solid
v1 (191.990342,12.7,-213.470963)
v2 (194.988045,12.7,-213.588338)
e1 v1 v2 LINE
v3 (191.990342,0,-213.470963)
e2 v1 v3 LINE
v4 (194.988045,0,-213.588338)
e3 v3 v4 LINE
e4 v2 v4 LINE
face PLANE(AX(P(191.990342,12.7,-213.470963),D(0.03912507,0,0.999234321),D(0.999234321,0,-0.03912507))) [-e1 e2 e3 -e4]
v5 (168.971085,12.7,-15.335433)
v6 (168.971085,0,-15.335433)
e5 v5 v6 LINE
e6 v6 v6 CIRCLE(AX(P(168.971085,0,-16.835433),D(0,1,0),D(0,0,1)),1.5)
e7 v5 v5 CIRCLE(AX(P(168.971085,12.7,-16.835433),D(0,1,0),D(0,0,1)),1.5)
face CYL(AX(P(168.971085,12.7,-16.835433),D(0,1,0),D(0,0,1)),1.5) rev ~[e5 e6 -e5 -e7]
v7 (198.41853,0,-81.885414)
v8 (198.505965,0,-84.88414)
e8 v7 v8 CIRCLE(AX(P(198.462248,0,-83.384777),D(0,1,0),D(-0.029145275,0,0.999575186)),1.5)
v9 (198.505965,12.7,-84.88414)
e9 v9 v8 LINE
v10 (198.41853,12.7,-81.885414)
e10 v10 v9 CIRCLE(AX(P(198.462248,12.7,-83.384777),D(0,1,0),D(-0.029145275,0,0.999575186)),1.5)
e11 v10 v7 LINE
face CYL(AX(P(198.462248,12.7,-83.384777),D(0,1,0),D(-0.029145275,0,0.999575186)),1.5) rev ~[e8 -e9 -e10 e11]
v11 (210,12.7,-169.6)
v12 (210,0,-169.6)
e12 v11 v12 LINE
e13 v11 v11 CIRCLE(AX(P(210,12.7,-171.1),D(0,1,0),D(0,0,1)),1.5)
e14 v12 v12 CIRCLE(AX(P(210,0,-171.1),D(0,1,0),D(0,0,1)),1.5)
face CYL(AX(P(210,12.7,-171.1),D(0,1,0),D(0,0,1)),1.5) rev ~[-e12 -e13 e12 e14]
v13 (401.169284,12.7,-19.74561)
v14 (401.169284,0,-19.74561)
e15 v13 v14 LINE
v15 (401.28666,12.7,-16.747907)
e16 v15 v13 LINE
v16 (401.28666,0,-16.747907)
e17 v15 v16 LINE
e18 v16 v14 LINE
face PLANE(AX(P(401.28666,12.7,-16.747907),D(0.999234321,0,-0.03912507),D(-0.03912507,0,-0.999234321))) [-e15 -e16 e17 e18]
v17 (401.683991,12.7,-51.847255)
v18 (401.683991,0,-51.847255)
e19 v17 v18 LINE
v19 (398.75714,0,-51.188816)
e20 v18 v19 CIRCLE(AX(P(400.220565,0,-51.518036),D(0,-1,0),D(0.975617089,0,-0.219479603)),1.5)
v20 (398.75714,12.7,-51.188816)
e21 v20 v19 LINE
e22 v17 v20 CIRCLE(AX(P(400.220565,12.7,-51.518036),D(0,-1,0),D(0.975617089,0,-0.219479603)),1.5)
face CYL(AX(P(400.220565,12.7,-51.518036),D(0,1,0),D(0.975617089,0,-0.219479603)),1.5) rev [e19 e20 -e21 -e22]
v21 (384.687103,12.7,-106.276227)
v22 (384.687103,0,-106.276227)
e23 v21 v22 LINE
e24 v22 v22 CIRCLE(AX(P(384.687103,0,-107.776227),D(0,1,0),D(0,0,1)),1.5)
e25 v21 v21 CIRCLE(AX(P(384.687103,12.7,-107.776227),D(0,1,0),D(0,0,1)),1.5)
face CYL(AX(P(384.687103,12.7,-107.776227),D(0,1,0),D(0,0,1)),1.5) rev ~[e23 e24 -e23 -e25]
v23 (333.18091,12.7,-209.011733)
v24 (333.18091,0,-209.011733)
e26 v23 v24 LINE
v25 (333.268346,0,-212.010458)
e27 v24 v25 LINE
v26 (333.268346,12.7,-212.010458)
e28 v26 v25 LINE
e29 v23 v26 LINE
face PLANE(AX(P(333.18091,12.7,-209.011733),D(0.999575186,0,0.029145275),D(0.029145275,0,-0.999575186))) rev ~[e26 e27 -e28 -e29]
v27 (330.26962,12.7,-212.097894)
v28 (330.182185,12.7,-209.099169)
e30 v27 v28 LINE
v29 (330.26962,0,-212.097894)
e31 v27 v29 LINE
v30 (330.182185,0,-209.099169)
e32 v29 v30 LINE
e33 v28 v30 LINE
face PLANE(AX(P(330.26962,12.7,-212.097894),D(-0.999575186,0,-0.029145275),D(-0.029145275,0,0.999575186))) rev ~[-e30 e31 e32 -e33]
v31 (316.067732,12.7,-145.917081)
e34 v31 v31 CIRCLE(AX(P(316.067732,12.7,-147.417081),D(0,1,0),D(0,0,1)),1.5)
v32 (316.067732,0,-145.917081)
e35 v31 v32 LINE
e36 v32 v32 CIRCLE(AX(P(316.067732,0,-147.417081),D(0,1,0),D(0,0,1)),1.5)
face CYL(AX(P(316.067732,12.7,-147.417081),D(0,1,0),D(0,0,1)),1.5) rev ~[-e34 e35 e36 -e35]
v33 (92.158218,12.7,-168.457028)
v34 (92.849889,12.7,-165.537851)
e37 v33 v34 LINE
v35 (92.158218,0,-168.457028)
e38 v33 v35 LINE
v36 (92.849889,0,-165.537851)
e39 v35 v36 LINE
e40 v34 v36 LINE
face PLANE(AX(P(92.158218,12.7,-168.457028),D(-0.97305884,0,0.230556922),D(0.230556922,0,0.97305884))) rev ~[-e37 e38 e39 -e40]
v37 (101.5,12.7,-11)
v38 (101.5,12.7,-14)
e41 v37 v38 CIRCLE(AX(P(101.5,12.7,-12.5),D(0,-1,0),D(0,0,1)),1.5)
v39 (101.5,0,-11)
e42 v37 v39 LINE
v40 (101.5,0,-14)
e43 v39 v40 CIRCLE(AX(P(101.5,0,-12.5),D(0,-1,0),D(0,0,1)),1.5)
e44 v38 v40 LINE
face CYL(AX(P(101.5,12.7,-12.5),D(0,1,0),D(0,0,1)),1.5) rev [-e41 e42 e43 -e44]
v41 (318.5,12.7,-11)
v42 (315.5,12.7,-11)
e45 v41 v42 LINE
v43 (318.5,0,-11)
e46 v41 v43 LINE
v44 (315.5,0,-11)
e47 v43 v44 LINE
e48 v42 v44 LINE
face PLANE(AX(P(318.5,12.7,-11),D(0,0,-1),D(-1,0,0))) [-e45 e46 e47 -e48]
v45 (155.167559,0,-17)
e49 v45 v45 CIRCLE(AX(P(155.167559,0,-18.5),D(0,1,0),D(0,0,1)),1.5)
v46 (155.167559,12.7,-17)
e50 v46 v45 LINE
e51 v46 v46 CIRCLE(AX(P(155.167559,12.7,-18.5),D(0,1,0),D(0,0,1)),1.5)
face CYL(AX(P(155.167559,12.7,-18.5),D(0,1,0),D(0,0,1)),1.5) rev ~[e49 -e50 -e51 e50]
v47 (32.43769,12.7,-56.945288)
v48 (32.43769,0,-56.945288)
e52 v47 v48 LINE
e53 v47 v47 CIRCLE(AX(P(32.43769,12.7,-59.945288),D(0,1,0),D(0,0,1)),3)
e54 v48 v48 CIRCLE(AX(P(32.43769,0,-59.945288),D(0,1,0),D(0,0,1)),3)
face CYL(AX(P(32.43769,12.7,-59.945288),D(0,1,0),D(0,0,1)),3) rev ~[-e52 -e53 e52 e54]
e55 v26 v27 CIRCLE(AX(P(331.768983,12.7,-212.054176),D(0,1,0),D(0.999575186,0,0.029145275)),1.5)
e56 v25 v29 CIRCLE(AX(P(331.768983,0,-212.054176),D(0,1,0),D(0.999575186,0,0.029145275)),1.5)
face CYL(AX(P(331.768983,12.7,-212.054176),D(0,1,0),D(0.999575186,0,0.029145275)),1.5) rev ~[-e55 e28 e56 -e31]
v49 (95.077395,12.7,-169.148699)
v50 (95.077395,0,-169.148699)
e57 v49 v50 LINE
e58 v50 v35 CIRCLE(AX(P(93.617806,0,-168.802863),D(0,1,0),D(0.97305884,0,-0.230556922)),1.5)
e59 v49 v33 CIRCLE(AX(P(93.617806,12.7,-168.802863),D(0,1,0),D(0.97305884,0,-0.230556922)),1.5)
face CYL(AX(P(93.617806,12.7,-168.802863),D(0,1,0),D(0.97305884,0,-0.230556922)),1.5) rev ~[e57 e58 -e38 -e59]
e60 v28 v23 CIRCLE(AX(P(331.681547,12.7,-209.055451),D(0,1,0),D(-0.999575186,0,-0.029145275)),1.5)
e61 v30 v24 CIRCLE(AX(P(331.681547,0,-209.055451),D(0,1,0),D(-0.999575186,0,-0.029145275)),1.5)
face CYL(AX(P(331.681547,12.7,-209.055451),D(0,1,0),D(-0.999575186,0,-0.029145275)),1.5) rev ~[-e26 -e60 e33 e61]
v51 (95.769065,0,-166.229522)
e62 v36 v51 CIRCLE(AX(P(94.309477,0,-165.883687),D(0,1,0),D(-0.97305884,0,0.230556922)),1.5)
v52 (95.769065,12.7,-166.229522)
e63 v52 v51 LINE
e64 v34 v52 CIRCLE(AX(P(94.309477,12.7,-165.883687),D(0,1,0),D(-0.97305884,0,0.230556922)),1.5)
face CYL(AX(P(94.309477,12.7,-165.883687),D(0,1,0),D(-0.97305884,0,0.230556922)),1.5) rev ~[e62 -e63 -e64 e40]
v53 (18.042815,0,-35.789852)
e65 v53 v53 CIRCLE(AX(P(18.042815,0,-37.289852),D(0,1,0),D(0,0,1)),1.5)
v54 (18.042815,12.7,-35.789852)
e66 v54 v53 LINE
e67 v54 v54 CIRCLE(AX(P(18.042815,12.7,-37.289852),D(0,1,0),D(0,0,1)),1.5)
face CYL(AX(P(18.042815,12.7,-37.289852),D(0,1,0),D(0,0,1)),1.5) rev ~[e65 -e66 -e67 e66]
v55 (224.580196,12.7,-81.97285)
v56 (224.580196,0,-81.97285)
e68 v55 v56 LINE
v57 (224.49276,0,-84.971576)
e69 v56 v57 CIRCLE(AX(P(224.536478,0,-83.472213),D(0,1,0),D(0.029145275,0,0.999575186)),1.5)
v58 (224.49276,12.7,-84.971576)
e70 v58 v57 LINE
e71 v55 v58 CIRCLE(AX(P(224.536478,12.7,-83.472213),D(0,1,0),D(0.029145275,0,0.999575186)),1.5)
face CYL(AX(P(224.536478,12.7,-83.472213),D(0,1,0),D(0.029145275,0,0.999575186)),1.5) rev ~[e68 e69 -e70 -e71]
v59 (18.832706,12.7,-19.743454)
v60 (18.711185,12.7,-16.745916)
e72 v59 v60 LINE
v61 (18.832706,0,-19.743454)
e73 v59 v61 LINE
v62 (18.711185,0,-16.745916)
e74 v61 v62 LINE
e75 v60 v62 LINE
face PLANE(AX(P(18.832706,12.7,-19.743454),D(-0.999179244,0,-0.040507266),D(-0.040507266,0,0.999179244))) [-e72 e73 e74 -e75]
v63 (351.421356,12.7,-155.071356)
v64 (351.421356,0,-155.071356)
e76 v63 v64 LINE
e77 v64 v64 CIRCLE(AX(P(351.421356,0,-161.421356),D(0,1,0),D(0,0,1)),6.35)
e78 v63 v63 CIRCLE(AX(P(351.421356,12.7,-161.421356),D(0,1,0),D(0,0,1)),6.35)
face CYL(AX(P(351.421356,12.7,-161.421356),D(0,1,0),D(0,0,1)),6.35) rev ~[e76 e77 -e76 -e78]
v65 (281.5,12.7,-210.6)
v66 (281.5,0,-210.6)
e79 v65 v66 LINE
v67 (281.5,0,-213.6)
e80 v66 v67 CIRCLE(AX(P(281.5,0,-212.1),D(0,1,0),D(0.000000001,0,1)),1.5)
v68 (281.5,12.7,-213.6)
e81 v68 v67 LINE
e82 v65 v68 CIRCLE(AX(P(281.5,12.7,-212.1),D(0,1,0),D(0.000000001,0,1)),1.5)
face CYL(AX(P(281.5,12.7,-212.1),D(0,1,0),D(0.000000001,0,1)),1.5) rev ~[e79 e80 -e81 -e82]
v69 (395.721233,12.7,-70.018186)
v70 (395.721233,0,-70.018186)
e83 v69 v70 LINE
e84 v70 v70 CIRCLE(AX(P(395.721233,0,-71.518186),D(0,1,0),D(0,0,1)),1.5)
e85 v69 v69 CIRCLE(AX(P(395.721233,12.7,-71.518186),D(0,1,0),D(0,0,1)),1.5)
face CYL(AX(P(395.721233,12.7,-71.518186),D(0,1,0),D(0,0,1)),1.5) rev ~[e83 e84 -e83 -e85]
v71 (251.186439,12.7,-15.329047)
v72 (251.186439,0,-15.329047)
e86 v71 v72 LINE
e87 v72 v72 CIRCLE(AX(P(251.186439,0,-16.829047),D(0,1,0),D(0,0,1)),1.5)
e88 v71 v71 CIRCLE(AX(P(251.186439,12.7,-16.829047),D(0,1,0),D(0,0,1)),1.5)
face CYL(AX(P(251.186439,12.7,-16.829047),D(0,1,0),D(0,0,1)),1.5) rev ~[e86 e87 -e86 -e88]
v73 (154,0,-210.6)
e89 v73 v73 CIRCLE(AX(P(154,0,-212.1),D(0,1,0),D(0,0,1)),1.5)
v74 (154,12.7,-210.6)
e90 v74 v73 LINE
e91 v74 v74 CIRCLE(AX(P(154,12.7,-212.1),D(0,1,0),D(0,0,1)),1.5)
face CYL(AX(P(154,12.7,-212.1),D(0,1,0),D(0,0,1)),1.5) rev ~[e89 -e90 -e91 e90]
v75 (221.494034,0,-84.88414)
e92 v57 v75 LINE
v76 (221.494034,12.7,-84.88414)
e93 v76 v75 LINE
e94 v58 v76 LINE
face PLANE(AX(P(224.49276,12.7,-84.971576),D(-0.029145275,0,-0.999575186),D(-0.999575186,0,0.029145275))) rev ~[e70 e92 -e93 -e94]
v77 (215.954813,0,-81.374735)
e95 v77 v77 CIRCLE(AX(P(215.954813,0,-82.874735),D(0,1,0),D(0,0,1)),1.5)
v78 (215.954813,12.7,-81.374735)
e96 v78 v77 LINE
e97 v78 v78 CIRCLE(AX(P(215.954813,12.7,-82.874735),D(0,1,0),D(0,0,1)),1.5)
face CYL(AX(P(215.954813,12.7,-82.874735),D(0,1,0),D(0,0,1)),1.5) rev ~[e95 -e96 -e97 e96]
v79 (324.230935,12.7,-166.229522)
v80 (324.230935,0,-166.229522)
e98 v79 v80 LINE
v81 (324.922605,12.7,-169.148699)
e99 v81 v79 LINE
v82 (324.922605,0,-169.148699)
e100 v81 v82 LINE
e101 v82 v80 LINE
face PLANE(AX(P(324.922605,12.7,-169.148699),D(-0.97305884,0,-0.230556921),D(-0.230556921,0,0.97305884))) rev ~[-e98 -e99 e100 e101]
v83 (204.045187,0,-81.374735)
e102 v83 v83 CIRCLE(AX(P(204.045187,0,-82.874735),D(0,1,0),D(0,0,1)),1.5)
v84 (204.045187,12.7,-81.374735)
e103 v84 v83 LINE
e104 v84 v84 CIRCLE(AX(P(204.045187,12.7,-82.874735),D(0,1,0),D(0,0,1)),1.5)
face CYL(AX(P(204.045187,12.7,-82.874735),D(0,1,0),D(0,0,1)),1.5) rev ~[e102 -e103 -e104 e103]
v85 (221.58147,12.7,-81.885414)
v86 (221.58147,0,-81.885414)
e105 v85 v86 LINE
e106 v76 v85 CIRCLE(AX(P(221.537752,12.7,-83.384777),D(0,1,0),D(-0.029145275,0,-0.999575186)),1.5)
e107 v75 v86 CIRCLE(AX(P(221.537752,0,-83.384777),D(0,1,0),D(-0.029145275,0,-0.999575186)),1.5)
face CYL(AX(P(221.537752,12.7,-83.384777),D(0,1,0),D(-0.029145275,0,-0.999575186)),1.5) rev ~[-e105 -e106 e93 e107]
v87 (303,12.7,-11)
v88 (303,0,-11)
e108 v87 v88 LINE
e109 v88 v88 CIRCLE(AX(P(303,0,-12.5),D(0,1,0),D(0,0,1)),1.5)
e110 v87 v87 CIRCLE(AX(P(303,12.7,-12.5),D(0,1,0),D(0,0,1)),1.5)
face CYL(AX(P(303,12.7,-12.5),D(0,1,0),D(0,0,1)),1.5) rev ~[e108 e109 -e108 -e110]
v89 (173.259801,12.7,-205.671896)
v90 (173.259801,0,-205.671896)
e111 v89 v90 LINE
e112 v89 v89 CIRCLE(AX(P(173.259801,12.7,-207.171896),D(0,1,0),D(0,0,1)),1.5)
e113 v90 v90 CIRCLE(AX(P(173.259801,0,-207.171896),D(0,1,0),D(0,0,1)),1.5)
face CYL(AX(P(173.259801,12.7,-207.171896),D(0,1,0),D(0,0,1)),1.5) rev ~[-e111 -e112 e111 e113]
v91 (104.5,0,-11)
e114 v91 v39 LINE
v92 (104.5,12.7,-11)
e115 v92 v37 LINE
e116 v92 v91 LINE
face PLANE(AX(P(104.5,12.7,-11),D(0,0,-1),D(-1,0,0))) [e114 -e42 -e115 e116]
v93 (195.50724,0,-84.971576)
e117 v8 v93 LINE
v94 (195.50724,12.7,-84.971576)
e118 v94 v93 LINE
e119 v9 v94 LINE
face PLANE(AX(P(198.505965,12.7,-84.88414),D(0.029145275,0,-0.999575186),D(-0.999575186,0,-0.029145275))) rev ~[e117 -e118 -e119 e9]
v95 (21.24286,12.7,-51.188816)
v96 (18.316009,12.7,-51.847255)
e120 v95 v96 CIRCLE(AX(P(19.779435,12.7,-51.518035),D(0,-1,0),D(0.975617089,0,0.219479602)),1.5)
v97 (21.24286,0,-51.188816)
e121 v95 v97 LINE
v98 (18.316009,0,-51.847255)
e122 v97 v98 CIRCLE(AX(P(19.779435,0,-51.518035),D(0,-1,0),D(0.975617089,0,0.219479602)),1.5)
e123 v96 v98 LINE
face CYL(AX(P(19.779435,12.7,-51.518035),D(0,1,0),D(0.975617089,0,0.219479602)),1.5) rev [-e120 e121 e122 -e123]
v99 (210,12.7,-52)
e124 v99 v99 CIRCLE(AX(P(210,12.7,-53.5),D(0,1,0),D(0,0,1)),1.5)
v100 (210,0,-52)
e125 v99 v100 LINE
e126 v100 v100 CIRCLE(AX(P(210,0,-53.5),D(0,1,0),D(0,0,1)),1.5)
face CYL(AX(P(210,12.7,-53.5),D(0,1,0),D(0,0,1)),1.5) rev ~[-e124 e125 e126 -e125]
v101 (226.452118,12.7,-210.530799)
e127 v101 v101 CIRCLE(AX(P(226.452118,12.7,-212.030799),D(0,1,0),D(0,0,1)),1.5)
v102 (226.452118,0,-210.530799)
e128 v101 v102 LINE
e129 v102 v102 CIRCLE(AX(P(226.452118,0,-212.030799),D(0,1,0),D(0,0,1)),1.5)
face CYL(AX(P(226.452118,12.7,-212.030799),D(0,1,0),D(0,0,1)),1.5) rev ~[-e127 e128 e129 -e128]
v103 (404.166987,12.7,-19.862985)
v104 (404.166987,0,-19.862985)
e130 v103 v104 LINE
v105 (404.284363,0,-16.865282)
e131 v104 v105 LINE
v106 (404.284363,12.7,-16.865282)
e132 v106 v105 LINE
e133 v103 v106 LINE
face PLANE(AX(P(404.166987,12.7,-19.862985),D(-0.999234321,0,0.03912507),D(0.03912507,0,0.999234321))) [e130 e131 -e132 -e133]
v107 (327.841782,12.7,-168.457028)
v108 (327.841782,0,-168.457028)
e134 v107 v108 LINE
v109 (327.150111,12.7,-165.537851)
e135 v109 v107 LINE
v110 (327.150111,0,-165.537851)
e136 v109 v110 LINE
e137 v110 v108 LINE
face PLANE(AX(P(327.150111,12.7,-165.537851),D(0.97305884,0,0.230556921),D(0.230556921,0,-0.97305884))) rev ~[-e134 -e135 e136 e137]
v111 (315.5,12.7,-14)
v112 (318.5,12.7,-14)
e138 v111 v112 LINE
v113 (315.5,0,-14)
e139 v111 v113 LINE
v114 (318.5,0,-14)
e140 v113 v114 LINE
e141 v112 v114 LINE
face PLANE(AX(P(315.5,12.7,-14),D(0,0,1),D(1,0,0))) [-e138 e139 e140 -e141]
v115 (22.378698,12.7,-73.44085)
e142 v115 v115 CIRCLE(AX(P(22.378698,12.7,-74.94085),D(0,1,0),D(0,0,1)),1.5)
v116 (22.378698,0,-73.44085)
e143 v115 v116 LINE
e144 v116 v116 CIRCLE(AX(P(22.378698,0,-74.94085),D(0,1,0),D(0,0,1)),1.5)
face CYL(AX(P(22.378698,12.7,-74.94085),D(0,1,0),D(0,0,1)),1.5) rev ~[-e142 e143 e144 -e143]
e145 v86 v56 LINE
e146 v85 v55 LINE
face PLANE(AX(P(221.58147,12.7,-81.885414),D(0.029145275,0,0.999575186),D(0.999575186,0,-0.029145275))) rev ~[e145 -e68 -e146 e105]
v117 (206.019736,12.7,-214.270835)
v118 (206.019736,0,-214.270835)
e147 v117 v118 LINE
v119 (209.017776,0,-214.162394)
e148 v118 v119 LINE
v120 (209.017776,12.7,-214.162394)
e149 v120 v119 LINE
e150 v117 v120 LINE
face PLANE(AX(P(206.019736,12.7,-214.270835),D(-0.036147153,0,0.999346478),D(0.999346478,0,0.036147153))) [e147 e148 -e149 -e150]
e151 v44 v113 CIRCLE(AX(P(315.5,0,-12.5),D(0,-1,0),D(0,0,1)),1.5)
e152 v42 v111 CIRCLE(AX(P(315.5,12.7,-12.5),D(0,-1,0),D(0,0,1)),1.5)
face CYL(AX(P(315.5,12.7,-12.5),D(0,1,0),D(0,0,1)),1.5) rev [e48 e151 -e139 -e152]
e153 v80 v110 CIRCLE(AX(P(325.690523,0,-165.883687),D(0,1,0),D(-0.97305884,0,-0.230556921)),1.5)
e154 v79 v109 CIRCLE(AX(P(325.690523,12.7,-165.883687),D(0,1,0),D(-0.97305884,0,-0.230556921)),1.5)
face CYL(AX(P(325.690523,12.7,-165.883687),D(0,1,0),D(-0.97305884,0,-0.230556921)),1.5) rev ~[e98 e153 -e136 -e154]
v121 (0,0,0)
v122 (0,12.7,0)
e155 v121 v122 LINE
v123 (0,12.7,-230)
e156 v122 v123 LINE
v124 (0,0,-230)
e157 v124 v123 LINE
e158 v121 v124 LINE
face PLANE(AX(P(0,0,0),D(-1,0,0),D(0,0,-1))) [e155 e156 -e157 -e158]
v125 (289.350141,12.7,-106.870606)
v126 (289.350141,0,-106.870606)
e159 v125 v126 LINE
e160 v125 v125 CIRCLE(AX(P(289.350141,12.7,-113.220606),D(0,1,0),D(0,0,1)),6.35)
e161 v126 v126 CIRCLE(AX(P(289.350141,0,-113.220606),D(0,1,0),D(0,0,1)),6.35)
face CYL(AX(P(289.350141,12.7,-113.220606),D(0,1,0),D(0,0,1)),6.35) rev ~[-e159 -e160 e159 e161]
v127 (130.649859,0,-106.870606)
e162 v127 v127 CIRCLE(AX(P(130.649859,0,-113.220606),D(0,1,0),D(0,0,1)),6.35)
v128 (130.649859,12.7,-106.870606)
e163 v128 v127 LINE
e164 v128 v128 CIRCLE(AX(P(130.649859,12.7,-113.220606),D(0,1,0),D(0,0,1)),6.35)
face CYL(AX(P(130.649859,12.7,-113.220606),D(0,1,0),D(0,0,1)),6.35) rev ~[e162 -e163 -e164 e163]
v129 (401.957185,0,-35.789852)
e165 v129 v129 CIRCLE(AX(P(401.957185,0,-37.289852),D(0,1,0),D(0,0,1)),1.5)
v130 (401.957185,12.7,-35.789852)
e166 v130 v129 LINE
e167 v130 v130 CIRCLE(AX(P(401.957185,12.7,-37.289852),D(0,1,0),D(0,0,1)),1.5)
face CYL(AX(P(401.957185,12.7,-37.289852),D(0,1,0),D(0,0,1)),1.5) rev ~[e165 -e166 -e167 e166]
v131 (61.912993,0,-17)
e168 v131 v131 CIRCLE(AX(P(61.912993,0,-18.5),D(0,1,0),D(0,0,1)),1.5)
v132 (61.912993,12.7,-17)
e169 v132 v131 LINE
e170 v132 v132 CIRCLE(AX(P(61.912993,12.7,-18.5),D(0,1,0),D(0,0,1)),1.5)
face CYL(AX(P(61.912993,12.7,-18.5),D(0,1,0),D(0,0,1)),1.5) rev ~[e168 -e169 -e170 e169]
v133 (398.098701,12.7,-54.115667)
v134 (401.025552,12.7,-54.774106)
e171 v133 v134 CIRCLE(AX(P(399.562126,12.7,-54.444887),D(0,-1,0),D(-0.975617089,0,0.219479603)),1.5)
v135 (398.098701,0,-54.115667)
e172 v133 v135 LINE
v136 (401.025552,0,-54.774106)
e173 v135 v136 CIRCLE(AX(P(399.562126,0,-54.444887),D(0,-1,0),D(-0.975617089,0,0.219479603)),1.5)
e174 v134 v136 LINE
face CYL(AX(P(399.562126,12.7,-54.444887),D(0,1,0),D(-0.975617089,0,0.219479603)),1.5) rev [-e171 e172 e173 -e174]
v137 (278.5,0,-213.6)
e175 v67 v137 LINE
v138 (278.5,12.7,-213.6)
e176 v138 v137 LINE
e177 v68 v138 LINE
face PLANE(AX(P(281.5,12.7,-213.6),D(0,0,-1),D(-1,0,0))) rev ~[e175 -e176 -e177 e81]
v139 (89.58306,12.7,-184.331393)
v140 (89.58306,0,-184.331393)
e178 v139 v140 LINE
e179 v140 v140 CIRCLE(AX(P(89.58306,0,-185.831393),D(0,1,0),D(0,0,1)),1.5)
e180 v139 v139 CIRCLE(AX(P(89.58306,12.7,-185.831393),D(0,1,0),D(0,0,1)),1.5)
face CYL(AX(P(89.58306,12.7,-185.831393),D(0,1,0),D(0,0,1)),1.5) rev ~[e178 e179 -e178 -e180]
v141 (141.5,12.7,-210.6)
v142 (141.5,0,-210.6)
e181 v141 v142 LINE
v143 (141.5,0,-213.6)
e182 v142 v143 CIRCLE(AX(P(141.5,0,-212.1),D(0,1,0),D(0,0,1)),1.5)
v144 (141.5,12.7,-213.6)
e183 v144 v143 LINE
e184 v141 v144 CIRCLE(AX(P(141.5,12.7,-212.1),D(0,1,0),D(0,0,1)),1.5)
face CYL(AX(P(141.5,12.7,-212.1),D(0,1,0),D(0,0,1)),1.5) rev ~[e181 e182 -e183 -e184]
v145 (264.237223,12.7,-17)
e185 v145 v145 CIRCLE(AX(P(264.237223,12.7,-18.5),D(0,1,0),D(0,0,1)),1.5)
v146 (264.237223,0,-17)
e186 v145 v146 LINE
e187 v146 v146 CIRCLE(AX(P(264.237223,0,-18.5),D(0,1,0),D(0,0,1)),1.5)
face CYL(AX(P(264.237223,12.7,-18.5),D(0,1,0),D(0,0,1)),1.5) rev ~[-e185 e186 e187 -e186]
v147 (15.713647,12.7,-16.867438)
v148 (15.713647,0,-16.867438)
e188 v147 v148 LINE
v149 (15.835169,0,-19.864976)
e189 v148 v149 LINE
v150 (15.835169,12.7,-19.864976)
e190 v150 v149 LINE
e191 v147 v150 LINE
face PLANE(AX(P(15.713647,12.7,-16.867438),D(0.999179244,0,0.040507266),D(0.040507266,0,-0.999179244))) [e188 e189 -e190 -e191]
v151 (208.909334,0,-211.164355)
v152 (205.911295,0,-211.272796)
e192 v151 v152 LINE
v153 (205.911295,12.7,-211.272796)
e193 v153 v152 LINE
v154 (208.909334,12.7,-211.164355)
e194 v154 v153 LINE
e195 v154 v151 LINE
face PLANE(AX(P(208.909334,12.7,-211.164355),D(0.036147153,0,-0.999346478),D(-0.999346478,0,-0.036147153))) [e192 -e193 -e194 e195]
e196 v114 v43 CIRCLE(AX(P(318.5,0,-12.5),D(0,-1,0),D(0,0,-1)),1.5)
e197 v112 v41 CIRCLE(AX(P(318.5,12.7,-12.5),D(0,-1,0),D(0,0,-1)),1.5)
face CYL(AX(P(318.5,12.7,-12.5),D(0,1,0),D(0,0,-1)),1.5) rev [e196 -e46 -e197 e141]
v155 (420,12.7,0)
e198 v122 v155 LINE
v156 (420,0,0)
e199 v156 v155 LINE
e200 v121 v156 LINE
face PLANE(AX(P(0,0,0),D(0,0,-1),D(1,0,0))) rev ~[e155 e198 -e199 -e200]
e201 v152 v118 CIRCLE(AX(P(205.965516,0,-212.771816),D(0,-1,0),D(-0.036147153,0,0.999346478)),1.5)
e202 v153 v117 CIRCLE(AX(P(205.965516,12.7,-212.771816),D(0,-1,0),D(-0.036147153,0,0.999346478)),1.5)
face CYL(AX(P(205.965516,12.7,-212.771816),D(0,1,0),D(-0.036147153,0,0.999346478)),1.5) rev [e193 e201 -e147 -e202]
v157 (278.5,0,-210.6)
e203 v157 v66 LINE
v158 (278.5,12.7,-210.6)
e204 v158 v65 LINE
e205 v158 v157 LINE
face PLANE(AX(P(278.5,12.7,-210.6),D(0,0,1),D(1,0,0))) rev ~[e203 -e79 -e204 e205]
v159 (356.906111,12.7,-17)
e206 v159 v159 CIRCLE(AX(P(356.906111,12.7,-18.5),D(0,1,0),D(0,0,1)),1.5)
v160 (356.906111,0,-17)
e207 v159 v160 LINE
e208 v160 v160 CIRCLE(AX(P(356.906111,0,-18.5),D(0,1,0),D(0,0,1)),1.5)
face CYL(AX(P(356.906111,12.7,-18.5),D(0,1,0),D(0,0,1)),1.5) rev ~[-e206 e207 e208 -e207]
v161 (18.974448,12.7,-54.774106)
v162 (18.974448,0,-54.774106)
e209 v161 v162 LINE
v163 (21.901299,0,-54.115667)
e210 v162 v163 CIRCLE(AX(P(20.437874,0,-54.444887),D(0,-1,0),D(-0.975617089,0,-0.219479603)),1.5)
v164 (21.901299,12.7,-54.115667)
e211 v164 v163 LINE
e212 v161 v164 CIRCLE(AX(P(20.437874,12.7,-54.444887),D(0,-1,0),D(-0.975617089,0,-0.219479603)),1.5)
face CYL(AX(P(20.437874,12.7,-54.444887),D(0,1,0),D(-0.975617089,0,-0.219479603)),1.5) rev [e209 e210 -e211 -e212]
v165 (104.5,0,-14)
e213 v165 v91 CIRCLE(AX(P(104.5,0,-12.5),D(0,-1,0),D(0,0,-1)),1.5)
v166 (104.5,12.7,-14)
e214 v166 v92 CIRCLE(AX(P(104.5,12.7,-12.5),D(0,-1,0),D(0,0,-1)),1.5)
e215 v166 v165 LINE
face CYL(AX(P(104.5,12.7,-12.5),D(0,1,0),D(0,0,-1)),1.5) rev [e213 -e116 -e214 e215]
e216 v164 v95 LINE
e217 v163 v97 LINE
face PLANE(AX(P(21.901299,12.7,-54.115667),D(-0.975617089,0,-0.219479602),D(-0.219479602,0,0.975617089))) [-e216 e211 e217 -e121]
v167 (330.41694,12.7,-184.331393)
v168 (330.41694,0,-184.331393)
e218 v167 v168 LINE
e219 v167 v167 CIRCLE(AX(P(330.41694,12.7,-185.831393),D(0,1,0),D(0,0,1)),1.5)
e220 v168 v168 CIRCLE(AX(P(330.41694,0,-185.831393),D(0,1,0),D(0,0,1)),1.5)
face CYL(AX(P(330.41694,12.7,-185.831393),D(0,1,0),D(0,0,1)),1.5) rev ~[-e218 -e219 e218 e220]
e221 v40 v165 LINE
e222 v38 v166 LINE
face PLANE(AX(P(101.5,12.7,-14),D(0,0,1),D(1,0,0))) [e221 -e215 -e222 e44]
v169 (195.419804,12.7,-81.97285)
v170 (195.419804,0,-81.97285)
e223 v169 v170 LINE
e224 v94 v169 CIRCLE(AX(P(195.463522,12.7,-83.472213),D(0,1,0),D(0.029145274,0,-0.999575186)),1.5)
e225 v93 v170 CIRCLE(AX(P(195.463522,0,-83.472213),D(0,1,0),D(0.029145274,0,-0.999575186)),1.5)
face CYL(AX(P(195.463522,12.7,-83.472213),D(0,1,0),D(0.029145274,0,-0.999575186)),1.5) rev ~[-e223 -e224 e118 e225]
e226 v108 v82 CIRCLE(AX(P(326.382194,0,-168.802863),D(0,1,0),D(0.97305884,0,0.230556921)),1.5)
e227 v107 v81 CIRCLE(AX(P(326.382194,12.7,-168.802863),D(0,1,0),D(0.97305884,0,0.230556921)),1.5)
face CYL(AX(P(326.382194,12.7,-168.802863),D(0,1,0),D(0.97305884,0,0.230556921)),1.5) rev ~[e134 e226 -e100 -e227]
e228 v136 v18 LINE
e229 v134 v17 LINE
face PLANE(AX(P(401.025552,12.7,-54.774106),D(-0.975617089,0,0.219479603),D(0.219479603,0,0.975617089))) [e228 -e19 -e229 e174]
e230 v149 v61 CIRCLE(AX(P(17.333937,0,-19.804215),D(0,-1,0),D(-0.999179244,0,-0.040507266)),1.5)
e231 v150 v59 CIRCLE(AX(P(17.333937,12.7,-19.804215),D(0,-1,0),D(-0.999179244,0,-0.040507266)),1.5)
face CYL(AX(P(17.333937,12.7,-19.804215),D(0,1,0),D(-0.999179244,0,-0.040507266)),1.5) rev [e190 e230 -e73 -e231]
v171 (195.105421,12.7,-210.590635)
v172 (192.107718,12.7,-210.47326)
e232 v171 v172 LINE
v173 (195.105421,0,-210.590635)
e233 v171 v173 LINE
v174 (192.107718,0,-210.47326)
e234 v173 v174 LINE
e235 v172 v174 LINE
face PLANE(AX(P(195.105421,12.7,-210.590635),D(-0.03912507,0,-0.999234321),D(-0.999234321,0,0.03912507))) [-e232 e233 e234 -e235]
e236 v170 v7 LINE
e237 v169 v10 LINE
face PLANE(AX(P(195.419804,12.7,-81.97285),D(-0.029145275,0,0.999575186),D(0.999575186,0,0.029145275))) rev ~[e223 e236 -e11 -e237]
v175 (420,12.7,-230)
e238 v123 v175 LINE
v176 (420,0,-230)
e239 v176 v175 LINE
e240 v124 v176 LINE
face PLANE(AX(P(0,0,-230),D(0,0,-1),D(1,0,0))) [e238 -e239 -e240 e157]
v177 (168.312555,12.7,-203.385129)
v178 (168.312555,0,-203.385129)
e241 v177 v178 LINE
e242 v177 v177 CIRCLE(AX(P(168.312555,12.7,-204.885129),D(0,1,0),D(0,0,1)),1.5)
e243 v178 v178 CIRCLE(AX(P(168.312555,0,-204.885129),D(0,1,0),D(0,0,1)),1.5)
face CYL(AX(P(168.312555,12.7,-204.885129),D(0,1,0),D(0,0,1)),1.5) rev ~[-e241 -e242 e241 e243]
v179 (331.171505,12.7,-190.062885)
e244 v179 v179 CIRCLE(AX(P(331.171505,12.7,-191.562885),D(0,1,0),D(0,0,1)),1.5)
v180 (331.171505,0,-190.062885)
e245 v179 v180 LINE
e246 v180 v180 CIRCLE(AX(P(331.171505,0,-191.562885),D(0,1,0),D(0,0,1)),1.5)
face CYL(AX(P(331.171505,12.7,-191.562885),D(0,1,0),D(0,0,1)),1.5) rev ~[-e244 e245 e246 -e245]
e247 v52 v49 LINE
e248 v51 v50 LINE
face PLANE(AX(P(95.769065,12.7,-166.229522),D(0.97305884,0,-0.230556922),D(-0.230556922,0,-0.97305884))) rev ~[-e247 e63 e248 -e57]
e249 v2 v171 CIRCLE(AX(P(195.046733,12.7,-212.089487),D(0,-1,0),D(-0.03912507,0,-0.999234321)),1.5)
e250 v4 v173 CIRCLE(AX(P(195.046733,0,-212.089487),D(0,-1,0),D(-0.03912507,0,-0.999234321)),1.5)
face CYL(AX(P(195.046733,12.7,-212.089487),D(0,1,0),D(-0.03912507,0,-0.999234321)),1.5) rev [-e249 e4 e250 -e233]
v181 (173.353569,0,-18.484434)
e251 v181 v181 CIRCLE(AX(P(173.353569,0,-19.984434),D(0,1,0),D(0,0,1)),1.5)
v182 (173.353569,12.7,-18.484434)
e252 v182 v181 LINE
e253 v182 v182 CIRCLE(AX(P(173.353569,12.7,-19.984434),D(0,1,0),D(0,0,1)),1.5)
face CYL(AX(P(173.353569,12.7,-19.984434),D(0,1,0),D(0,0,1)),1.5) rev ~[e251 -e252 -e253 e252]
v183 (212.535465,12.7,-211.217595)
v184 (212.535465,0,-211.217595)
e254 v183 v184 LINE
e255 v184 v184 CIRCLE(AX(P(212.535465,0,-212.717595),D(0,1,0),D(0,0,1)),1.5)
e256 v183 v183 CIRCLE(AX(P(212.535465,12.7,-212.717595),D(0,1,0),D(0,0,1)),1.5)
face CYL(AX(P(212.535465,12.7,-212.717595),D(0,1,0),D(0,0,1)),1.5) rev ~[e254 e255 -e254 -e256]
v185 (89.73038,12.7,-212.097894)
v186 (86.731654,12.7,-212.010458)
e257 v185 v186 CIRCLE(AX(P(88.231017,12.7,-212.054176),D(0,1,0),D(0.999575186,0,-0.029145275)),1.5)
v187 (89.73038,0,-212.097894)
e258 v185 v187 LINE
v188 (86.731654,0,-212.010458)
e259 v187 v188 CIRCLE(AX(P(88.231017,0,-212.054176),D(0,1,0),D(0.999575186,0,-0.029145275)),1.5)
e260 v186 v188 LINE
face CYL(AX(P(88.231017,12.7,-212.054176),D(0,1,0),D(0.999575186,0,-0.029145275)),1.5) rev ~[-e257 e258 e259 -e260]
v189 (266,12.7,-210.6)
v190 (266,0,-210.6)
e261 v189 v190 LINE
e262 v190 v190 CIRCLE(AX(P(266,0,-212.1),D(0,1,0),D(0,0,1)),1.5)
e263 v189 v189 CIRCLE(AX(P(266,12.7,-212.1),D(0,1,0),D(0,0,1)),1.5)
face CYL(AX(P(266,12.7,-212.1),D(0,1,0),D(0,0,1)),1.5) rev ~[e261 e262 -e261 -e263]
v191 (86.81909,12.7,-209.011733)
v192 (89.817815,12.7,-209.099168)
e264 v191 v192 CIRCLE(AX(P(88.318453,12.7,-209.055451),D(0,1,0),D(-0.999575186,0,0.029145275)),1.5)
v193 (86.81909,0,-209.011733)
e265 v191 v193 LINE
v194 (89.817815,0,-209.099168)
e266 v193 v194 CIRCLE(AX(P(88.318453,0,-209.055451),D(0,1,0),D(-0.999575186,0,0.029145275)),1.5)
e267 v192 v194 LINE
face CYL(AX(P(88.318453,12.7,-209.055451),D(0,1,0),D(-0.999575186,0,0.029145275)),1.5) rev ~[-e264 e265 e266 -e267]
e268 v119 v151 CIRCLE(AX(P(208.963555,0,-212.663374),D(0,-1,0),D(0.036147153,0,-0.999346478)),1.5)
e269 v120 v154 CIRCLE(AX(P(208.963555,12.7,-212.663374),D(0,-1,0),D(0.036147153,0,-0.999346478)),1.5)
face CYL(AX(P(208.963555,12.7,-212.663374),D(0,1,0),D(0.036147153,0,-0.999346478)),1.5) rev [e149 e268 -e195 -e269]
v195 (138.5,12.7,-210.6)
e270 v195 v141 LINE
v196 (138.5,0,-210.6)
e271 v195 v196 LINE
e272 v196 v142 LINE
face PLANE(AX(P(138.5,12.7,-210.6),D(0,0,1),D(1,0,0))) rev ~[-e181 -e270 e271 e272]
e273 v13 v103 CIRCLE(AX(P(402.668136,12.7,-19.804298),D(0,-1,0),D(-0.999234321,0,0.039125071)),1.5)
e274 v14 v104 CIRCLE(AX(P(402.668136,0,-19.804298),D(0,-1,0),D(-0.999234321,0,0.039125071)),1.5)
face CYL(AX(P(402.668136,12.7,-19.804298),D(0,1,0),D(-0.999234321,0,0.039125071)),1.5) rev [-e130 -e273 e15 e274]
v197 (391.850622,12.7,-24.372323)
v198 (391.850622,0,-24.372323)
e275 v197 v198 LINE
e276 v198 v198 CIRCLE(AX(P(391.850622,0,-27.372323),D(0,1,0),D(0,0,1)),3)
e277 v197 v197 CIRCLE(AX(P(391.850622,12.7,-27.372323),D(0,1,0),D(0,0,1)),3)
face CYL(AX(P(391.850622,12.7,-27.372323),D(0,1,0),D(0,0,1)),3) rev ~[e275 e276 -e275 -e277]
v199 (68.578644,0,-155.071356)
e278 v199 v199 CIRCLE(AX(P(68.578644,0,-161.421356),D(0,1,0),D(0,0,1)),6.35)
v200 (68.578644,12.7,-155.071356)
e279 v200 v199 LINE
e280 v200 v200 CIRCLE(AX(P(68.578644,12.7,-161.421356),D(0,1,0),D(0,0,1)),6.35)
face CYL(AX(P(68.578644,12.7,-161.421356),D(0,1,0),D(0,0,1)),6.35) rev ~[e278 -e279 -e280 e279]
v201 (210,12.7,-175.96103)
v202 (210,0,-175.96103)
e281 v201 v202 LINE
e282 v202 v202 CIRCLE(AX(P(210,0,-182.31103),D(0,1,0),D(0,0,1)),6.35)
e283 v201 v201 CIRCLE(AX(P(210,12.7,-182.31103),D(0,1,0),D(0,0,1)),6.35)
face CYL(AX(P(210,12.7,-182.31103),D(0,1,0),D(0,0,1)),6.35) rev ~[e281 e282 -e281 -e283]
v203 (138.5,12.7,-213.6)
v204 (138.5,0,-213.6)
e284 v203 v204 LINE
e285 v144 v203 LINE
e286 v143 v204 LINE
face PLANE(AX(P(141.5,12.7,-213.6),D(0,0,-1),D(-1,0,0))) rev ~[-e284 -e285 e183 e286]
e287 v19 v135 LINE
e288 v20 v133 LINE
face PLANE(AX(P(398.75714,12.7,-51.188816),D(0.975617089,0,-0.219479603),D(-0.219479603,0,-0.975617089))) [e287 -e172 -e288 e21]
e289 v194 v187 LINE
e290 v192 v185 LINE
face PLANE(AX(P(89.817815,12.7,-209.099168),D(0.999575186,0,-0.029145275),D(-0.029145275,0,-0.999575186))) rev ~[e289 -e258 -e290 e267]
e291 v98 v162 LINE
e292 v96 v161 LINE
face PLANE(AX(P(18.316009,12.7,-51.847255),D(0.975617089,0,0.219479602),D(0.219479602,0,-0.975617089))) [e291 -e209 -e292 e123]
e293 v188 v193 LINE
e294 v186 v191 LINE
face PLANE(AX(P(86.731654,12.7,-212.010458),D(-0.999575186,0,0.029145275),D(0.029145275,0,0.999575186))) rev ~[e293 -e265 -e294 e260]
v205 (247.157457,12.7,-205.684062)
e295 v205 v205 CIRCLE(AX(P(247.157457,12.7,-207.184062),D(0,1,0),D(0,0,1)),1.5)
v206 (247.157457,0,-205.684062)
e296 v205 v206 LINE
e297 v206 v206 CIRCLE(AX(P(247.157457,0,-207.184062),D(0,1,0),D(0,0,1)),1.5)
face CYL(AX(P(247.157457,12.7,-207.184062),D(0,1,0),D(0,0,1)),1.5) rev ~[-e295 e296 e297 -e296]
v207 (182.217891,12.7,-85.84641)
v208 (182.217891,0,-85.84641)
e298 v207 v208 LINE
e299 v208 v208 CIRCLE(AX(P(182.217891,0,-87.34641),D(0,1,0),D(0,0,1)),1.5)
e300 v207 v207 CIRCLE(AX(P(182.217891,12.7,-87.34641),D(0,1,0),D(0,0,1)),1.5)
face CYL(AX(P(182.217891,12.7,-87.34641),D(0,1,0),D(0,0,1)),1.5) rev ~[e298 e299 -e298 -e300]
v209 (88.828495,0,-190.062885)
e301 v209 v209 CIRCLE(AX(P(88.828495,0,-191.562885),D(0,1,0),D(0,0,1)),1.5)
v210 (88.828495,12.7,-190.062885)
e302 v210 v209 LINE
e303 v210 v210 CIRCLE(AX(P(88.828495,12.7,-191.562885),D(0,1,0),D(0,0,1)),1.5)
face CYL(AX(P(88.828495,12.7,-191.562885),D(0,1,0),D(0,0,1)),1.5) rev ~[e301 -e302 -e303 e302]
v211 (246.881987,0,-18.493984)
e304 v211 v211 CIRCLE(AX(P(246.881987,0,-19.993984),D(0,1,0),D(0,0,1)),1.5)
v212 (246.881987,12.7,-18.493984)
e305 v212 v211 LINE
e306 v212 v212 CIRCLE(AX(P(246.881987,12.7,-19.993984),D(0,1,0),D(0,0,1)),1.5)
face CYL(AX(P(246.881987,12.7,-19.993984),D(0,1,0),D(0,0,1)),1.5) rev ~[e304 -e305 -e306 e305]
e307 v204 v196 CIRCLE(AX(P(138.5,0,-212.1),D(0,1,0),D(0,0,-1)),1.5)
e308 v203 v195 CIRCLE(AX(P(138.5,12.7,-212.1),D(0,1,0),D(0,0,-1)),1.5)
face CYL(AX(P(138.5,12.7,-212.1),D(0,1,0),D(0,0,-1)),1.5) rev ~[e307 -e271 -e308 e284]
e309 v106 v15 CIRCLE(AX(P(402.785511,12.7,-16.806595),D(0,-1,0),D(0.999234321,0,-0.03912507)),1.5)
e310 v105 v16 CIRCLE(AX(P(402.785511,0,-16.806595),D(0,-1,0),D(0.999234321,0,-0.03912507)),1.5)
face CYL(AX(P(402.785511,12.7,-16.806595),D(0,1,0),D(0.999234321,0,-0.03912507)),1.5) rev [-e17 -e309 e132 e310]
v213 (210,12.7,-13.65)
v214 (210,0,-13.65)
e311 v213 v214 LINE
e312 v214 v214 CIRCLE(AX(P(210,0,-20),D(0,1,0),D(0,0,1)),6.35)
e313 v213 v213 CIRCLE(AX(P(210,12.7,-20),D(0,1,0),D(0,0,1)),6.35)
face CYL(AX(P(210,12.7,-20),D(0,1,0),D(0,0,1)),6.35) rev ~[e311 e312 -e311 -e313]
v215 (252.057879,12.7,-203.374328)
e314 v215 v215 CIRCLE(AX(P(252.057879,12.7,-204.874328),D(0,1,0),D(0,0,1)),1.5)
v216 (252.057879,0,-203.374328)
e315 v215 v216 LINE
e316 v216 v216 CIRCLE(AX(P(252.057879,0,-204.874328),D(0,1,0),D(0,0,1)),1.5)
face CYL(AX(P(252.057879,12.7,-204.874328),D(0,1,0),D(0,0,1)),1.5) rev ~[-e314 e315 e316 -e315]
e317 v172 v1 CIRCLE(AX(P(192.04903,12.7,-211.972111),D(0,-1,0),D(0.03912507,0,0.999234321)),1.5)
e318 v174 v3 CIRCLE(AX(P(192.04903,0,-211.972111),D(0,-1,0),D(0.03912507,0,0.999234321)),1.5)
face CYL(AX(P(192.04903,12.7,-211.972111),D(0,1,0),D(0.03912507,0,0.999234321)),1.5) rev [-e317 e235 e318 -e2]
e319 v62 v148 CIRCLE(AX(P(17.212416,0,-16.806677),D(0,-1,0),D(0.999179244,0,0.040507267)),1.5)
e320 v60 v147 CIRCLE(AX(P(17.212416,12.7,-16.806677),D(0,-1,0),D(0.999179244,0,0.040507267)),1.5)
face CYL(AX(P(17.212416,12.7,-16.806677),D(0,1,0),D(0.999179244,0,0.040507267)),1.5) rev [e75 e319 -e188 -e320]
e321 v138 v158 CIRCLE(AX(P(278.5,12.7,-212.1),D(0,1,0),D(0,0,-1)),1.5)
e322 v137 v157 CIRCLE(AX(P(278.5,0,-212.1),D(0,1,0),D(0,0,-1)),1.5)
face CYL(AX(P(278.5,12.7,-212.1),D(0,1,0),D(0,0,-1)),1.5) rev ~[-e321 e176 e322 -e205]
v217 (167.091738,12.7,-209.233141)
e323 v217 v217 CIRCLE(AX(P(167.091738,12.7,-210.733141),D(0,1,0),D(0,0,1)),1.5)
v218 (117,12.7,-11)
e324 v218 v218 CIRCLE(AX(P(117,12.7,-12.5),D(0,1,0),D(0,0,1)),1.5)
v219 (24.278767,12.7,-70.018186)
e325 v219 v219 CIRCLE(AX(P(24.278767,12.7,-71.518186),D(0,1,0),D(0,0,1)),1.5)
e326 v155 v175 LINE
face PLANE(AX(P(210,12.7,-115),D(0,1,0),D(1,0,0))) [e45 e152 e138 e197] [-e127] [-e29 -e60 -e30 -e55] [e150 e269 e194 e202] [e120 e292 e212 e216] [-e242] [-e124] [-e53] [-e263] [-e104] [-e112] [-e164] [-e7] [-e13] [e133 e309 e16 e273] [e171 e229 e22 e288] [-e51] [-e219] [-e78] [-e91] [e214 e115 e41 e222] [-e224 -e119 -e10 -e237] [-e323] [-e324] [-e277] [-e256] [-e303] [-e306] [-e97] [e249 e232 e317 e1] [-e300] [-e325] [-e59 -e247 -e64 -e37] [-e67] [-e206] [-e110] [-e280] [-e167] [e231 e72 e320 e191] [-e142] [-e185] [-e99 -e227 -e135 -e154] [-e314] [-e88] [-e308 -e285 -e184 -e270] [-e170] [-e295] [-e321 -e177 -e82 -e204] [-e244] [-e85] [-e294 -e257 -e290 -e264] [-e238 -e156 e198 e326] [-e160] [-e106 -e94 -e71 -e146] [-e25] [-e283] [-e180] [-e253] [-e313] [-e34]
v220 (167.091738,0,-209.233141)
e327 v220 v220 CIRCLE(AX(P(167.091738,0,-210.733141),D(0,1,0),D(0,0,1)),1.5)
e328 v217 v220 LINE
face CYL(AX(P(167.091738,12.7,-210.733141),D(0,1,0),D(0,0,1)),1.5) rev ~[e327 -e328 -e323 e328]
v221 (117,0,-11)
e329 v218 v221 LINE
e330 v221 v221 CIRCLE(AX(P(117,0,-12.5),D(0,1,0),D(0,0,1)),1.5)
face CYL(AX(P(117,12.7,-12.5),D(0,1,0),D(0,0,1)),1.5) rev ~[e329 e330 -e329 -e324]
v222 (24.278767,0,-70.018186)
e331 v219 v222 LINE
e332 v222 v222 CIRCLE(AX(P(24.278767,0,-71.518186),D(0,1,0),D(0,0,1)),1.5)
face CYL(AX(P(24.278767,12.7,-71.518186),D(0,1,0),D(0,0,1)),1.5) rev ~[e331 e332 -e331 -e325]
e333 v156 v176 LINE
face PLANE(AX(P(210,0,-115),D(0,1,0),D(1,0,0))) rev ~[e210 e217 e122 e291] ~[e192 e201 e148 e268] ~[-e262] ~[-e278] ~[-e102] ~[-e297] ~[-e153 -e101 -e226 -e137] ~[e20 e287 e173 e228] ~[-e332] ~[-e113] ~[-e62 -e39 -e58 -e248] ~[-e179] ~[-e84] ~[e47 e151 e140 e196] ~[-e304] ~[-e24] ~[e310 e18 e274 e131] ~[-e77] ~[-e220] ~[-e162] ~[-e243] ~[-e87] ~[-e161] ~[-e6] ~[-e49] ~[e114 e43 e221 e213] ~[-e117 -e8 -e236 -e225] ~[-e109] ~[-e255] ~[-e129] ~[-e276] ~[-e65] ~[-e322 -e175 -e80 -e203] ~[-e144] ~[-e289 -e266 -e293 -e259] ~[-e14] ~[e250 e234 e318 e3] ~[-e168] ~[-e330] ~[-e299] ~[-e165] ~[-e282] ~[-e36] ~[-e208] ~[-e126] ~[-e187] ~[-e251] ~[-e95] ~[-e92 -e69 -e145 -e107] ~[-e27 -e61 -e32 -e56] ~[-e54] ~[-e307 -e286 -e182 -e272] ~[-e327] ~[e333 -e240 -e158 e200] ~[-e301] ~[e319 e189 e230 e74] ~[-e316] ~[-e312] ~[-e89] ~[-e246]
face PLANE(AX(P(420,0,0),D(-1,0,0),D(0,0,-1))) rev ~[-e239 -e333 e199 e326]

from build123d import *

# Parameters (mm, degrees)
SKETCH1_W           = 420
SKETCH1_H           = 230
BOSS_EXTRUDE1_DEPTH = 12.7
SKETCH7_R           = 6.35
SKETCH7_R_2         = 1.5
SKETCH7_R_3         = 3
CUT_EXTRUDE1_DEPTH  = 12.7
SKETCH8_R           = 1.5
SKETCH8_R_2         = 6.35
CUT_EXTRUDE2_DEPTH  = 12.7


with BuildPart() as part:
    # Sketch1 → Boss-Extrude1 (new body)
    with BuildSketch(Plane(origin=(0, 0, 0), x_dir=(1, 0, 0), z_dir=(0, 1, 0))):
        with Locations((210, 115)):
            Rectangle(SKETCH1_W, SKETCH1_H)
    extrude(amount=BOSS_EXTRUDE1_DEPTH)

    # Sketch7 → Cut-Extrude1 (cut)
    with BuildSketch(Plane(origin=(196.460458651, 12.7, -62.603037437), x_dir=(0.090258341, 0, 0.995918386), z_dir=(0, 1, 0))):
        with Locations(Location((43.651204827, 9.638998703, 0), (0, 0, 354.82153059))):  # turned: the seam where the file's is
            Circle(SKETCH7_R)
        with Locations(Location((-109.957381, -118.440673222, 0), (0, 0, 354.82153059))):  # turned: the seam where the file's is
            Circle(SKETCH7_R)
        with Locations(Location((43.099653048, -31.508080441, 0), (0, 0, 354.82153059))):  # turned: the seam where the file's is
            Circle(SKETCH7_R_2)
        with Locations(Location((9.106186641, -179.974138285, 0), (0, 0, 354.82153059))):  # turned: the seam where the file's is
            Circle(SKETCH7_R_2)
        with Locations(Location((42.72656704, -83.658348767, 0), (0, 0, 354.82153059))):  # turned: the seam where the file's is
            Circle(SKETCH7_R_2)
        with Locations(Location((59.514618406, 101.582471063, 0), (0, 0, 354.82153059))):  # turned: the seam where the file's is
            Circle(SKETCH7_R_2)
        with Locations(Location((9.106186641, 199.252135691, 0), (0, 0, 354.82153059))):  # turned: the seam where the file's is
            Circle(SKETCH7_R_2)
        with Locations(Location((-146.11085778, 43.356347284, 0), (0, 0, 354.82153059))):  # turned: the seam where the file's is
            Circle(SKETCH7_R_2)
        with Locations(Location((46.986103661, 46.369904384, 0), (0, 0, 354.82153059))):  # turned: the seam where the file's is
            Circle(SKETCH7_R_2)
        with Locations(Location((31.778994905, -137.978961535, 0), (0, 0, 354.82153059))):  # turned: the seam where the file's is
            Circle(SKETCH7_R_2)
        with Locations(Location((40.195997242, -45.105025216, 0), (0, 0, 354.82153059))):  # turned: the seam where the file's is
            Circle(SKETCH7_R_2)
        with Locations(Location((50.040444185, 63.519459099, 0), (0, 0, 354.82153059))):  # turned: the seam where the file's is
            Circle(SKETCH7_R_2)
        with Locations(Location((58.404584222, 155.810108196, 0), (0, 0, 354.82153059))):  # turned: the seam where the file's is
            Circle(SKETCH7_R_2)
        with Locations(Location((10.28793889, 12.662653116, 0), (0, 0, 354.82153059))):  # turned: the seam where the file's is
            Circle(SKETCH7_R_2)
        with Locations(Location((40.359061234, -26.859260892, 0), (0, 0, 354.82153059))):  # turned: the seam where the file's is
            Circle(SKETCH7_R_2)
        with Locations(Location((50.526634497, 50.371125536, 0), (0, 0, 354.82153059))):  # turned: the seam where the file's is
            Circle(SKETCH7_R_2)
        with Locations(Location((-84.428467098, 163.24758453, 0), (0, 0, 354.82153059))):  # turned: the seam where the file's is
            Circle(SKETCH7_R)
        with Locations(Location((-27.999784998, 191.535633244, 0), (0, 0, 354.82153059))):  # turned: the seam where the file's is
            Circle(SKETCH7_R_2)
        with Locations(Location((-150.176265572, -15.878871876, 0), (0, 0, 354.82153059))):  # turned: the seam where the file's is
            Circle(SKETCH7_R_2)
        with Locations(Location((-27.999784998, -172.257635837, 0), (0, 0, 354.82153059))):  # turned: the seam where the file's is
            Circle(SKETCH7_R_2)
        with Locations(Location((-12.157521123, -163.593175294, 0), (0, 0, 354.82153059))):  # turned: the seam where the file's is
            Circle(SKETCH7_R_3)
        with Locations(Location((52.722508699, 191.41279067, 0), (0, 0, 354.82153059))):  # turned: the seam where the file's is
            Circle(SKETCH7_R_3)
        with Locations(Location((-24.419594065, -170.674246341, 0), (0, 0, 354.82153059))):  # turned: the seam where the file's is
            Circle(SKETCH7_R_2)
        with Locations(Location((-148.050944539, 29.558484854, 0), (0, 0, 354.82153059))):  # turned: the seam where the file's is
            Circle(SKETCH7_R_2)
        with Locations(Location((43.757660715, 202.373242332, 0), (0, 0, 354.82153059))):  # turned: the seam where the file's is
            Circle(SKETCH7_R_2)
        with BuildLine():
            Line((62.407500266, 116.883818538), (62.136725244, 113.896063379))
            ThreePointArc((62.136725244, 113.896063379), (60.507460154, 112.537573311), (59.148970086, 114.166838401))
            Line((59.148970086, 114.166838401), (59.419745108, 117.15459356))
            ThreePointArc((59.419745108, 117.15459356), (61.049010198, 118.513083628), (62.407500266, 116.883818538))
        make_face()
        with BuildLine():
            Line((39.83368518, -98.959696242), (40.104460202, -95.971941083))
            ThreePointArc((40.104460202, -95.971941083), (41.733725292, -94.613451015), (43.09221536, -96.242716105))
            Line((43.09221536, -96.242716105), (42.821440338, -99.230471264))
            ThreePointArc((42.821440338, -99.230471264), (41.192175248, -100.588961332), (39.83368518, -98.959696242))
        make_face()
        with BuildLine():
            Line((29.626595588, 200.44075534), (26.652261004, 200.049176763))
            ThreePointArc((26.652261004, 200.049176763), (24.969304423, 201.340554767), (26.260682427, 203.023511347))
            Line((26.260682427, 203.023511347), (29.235017011, 203.415089924))
            ThreePointArc((29.235017011, 203.415089924), (30.917973591, 202.12371192), (29.626595588, 200.44075534))
        make_face()
        with BuildLine():
            Line((-150.185944072, 23.209544269), (-149.807347164, 26.185559118))
            ThreePointArc((-149.807347164, 26.185559118), (-148.130041286, 27.484268089), (-146.831332315, 25.806962211))
            Line((-146.831332315, 25.806962211), (-147.209929223, 22.830947362))
            ThreePointArc((-147.209929223, 22.830947362), (-148.887235101, 21.532238391), (-150.185944072, 23.209544269))
        make_face()
        with BuildLine():
            Line((29.235017011, -184.137092518), (26.260682427, -183.745513941))
            ThreePointArc((26.260682427, -183.745513941), (24.969304423, -182.062557361), (26.652261004, -180.771179357))
            Line((26.652261004, -180.771179357), (29.626595588, -181.162757934))
            ThreePointArc((29.626595588, -181.162757934), (30.917973591, -182.845714514), (29.235017011, -184.137092518))
        make_face()
        with BuildLine():
            Line((64.155240602, 199.851371503), (61.159179013, 200.00504307))
            ThreePointArc((61.159179013, 200.00504307), (59.737984001, 201.579909648), (61.312850579, 203.001104659))
            Line((61.312850579, 203.001104659), (64.308912169, 202.847433093))
            ThreePointArc((64.308912169, 202.847433093), (65.73010718, 201.272566515), (64.155240602, 199.851371503))
        make_face()
        with BuildLine():
            Line((-150.655606189, 9.165217681), (-150.501934623, 12.161279271))
            ThreePointArc((-150.501934623, 12.161279271), (-148.927068045, 13.582474283), (-147.505873033, 12.007607705))
            Line((-147.505873033, 12.007607705), (-147.659544599, 9.011546115))
            ThreePointArc((-147.659544599, 9.011546115), (-149.234411177, 7.590351103), (-150.655606189, 9.165217681))
        make_face()
        with BuildLine():
            Line((-5.367140889, -178.388131742), (-8.222616285, -177.468207688))
            ThreePointArc((-8.222616285, -177.468207688), (-9.190391955, -175.580507963), (-7.302692231, -174.612732292))
            Line((-7.302692231, -174.612732292), (-4.447216835, -175.532656346))
            ThreePointArc((-4.447216835, -175.532656346), (-3.479441164, -177.420356071), (-5.367140889, -178.388131742))
        make_face()
    extrude(amount=-CUT_EXTRUDE1_DEPTH, mode=Mode.SUBTRACT)

    # Sketch8 → Cut-Extrude2 (cut)
    with BuildSketch(Plane(origin=(196.460458651, 12.7, -62.603037437), x_dir=(0.090258341, 0, 0.995918386), z_dir=(0, 1, 0))):
        with BuildLine():
            Line((-155.341291075, -41.107395995), (-155.612066097, -44.095151153))
            ThreePointArc((-155.612066097, -44.095151153), (-154.253576029, -45.724416243), (-152.624310939, -44.365926175))
            Line((-152.624310939, -44.365926175), (-152.353535917, -41.378171017))
            ThreePointArc((-152.353535917, -41.378171017), (-153.712025985, -39.748905926), (-155.341291075, -41.107395995))
        make_face()
        with BuildLine():
            Line((-139.988143243, 95.06264789), (-139.717368221, 98.050403049))
            ThreePointArc((-139.717368221, 98.050403049), (-141.075858289, 99.679668139), (-142.70512338, 98.321178071))
            Line((-142.70512338, 98.321178071), (-142.975898402, 95.333422913))
            ThreePointArc((-142.975898402, 95.333422913), (-141.617408333, 93.704157822), (-139.988143243, 95.06264789))
        make_face()
        with BuildLine():
            Line((-133.470950384, 149.377017265), (-136.44954449, 149.734756204))
            ThreePointArc((-136.44954449, 149.734756204), (-138.117711013, 148.42432862), (-136.807283429, 146.756162098))
            Line((-136.807283429, 146.756162098), (-133.828689323, 146.398423159))
            ThreePointArc((-133.828689323, 146.398423159), (-132.1605228, 147.708850742), (-133.470950384, 149.377017265))
        make_face()
        with BuildLine():
            Line((-94.516002831, 137.554448495), (-91.671170318, 136.602120835))
            ThreePointArc((-91.671170318, 136.602120835), (-89.772590232, 137.548373261), (-90.718842658, 139.446953348))
            Line((-90.718842658, 139.446953348), (-93.563675172, 140.399281008))
            ThreePointArc((-93.563675172, 140.399281008), (-95.462255258, 139.453028581), (-94.516002831, 137.554448495))
        make_face()
        with BuildLine():
            Line((-22.005535505, 4.048213218), (-22.363274444, 1.069619111))
            ThreePointArc((-22.363274444, 1.069619111), (-21.05284686, -0.598547411), (-19.384680337, 0.711880173))
            Line((-19.384680337, 0.711880173), (-19.026941398, 3.690474279))
            ThreePointArc((-19.026941398, 3.690474279), (-20.337368982, 5.358640802), (-22.005535505, 4.048213218))
        make_face()
        with BuildLine():
            Line((-16.936292811, 26.75887274), (-16.752711763, 29.753250471))
            ThreePointArc((-16.752711763, 29.753250471), (-18.158110106, 31.342229861), (-19.747089495, 29.936831519))
            Line((-19.747089495, 29.936831519), (-19.930670542, 26.942453787))
            ThreePointArc((-19.930670542, 26.942453787), (-18.5252722, 25.353474398), (-16.936292811, 26.75887274))
        make_face()
        with BuildLine():
            Line((-155.523578437, -92.984871409), (-158.517956168, -92.801290362))
            ThreePointArc((-158.517956168, -92.801290362), (-160.106935557, -94.206688704), (-158.701537215, -95.795668093))
            Line((-158.701537215, -95.795668093), (-155.707159484, -95.979249141))
            ThreePointArc((-155.707159484, -95.979249141), (-154.118180094, -94.573850798), (-155.523578437, -92.984871409))
        make_face()
        with BuildLine():
            Line((-114.836082574, -94.32231359), (-111.86639195, -93.896945988))
            ThreePointArc((-111.86639195, -93.896945988), (-110.594230439, -92.199416875), (-112.291759552, -90.927255364))
            Line((-112.291759552, -90.927255364), (-115.261450176, -91.352622966))
            ThreePointArc((-115.261450176, -91.352622966), (-116.533611687, -93.050152079), (-114.836082574, -94.32231359))
        make_face()
        with Locations(Location((-136.672463224, 68.211664221, 0), (0, 0, 354.82153059))):  # turned: the seam where the file's is
            Circle(SKETCH8_R)
        with Locations(Location((-138.148165526, -95.552949717, 0), (0, 0, 354.82153059))):  # turned: the seam where the file's is
            Circle(SKETCH8_R)
        with Locations(Location((-117.99733388, 24.288922913, 0), (0, 0, 354.82153059))):  # turned: the seam where the file's is
            Circle(SKETCH8_R_2)
        with Locations(Location((-146.072836923, -10.057415973, 0), (0, 0, 354.82153059))):  # turned: the seam where the file's is
            Circle(SKETCH8_R)
        with Locations(Location((-152.719184237, -28.793803678, 0), (0, 0, 354.82153059))):  # turned: the seam where the file's is
            Circle(SKETCH8_R)
        with Locations(Location((-25.927889983, -11.95113928, 0), (0, 0, 354.82153059))):  # turned: the seam where the file's is
            Circle(SKETCH8_R)
        with Locations(Location((-19.504371119, 9.38345983, 0), (0, 0, 354.82153059))):  # turned: the seam where the file's is
            Circle(SKETCH8_R)
        with Locations(Location((-42.026898399, 97.079200046, 0), (0, 0, 354.82153059))):  # turned: the seam where the file's is
            Circle(SKETCH8_R_2)
        with Locations(Location((-73.67231149, 126.774257586, 0), (0, 0, 354.82153059))):  # turned: the seam where the file's is
            Circle(SKETCH8_R)
        with Locations(Location((-56.350922478, -60.97332825, 0), (0, 0, 354.82153059))):  # turned: the seam where the file's is
            Circle(SKETCH8_R_2)
        with Locations(Location((-110.634695329, 144.532109434, 0), (0, 0, 354.82153059))):  # turned: the seam where the file's is
            Circle(SKETCH8_R)
        with Locations(Location((-142.610250081, 82.749055574, 0), (0, 0, 354.82153059))):  # turned: the seam where the file's is
            Circle(SKETCH8_R)
        with Locations(Location((-106.832063326, 23.27703398, 0), (0, 0, 354.82153059))):  # turned: the seam where the file's is
            Circle(SKETCH8_R)
        with Locations(Location((-144.241934154, -15.190869086, 0), (0, 0, 354.82153059))):  # turned: the seam where the file's is
            Circle(SKETCH8_R)
        with Locations(Location((-139.415073739, 63.539716428, 0), (0, 0, 354.82153059))):  # turned: the seam where the file's is
            Circle(SKETCH8_R)
        with Locations(Location((-116.274687565, 145.800909735, 0), (0, 0, 354.82153059))):  # turned: the seam where the file's is
            Circle(SKETCH8_R)
        with Locations(Location((-18.429427974, 21.244476037, 0), (0, 0, 354.82153059))):  # turned: the seam where the file's is
            Circle(SKETCH8_R)
        with Locations(Location((-132.371961683, -95.318779291, 0), (0, 0, 354.82153059))):  # turned: the seam where the file's is
            Circle(SKETCH8_R)
    extrude(amount=-CUT_EXTRUDE2_DEPTH, mode=Mode.SUBTRACT)


solid = part.part
